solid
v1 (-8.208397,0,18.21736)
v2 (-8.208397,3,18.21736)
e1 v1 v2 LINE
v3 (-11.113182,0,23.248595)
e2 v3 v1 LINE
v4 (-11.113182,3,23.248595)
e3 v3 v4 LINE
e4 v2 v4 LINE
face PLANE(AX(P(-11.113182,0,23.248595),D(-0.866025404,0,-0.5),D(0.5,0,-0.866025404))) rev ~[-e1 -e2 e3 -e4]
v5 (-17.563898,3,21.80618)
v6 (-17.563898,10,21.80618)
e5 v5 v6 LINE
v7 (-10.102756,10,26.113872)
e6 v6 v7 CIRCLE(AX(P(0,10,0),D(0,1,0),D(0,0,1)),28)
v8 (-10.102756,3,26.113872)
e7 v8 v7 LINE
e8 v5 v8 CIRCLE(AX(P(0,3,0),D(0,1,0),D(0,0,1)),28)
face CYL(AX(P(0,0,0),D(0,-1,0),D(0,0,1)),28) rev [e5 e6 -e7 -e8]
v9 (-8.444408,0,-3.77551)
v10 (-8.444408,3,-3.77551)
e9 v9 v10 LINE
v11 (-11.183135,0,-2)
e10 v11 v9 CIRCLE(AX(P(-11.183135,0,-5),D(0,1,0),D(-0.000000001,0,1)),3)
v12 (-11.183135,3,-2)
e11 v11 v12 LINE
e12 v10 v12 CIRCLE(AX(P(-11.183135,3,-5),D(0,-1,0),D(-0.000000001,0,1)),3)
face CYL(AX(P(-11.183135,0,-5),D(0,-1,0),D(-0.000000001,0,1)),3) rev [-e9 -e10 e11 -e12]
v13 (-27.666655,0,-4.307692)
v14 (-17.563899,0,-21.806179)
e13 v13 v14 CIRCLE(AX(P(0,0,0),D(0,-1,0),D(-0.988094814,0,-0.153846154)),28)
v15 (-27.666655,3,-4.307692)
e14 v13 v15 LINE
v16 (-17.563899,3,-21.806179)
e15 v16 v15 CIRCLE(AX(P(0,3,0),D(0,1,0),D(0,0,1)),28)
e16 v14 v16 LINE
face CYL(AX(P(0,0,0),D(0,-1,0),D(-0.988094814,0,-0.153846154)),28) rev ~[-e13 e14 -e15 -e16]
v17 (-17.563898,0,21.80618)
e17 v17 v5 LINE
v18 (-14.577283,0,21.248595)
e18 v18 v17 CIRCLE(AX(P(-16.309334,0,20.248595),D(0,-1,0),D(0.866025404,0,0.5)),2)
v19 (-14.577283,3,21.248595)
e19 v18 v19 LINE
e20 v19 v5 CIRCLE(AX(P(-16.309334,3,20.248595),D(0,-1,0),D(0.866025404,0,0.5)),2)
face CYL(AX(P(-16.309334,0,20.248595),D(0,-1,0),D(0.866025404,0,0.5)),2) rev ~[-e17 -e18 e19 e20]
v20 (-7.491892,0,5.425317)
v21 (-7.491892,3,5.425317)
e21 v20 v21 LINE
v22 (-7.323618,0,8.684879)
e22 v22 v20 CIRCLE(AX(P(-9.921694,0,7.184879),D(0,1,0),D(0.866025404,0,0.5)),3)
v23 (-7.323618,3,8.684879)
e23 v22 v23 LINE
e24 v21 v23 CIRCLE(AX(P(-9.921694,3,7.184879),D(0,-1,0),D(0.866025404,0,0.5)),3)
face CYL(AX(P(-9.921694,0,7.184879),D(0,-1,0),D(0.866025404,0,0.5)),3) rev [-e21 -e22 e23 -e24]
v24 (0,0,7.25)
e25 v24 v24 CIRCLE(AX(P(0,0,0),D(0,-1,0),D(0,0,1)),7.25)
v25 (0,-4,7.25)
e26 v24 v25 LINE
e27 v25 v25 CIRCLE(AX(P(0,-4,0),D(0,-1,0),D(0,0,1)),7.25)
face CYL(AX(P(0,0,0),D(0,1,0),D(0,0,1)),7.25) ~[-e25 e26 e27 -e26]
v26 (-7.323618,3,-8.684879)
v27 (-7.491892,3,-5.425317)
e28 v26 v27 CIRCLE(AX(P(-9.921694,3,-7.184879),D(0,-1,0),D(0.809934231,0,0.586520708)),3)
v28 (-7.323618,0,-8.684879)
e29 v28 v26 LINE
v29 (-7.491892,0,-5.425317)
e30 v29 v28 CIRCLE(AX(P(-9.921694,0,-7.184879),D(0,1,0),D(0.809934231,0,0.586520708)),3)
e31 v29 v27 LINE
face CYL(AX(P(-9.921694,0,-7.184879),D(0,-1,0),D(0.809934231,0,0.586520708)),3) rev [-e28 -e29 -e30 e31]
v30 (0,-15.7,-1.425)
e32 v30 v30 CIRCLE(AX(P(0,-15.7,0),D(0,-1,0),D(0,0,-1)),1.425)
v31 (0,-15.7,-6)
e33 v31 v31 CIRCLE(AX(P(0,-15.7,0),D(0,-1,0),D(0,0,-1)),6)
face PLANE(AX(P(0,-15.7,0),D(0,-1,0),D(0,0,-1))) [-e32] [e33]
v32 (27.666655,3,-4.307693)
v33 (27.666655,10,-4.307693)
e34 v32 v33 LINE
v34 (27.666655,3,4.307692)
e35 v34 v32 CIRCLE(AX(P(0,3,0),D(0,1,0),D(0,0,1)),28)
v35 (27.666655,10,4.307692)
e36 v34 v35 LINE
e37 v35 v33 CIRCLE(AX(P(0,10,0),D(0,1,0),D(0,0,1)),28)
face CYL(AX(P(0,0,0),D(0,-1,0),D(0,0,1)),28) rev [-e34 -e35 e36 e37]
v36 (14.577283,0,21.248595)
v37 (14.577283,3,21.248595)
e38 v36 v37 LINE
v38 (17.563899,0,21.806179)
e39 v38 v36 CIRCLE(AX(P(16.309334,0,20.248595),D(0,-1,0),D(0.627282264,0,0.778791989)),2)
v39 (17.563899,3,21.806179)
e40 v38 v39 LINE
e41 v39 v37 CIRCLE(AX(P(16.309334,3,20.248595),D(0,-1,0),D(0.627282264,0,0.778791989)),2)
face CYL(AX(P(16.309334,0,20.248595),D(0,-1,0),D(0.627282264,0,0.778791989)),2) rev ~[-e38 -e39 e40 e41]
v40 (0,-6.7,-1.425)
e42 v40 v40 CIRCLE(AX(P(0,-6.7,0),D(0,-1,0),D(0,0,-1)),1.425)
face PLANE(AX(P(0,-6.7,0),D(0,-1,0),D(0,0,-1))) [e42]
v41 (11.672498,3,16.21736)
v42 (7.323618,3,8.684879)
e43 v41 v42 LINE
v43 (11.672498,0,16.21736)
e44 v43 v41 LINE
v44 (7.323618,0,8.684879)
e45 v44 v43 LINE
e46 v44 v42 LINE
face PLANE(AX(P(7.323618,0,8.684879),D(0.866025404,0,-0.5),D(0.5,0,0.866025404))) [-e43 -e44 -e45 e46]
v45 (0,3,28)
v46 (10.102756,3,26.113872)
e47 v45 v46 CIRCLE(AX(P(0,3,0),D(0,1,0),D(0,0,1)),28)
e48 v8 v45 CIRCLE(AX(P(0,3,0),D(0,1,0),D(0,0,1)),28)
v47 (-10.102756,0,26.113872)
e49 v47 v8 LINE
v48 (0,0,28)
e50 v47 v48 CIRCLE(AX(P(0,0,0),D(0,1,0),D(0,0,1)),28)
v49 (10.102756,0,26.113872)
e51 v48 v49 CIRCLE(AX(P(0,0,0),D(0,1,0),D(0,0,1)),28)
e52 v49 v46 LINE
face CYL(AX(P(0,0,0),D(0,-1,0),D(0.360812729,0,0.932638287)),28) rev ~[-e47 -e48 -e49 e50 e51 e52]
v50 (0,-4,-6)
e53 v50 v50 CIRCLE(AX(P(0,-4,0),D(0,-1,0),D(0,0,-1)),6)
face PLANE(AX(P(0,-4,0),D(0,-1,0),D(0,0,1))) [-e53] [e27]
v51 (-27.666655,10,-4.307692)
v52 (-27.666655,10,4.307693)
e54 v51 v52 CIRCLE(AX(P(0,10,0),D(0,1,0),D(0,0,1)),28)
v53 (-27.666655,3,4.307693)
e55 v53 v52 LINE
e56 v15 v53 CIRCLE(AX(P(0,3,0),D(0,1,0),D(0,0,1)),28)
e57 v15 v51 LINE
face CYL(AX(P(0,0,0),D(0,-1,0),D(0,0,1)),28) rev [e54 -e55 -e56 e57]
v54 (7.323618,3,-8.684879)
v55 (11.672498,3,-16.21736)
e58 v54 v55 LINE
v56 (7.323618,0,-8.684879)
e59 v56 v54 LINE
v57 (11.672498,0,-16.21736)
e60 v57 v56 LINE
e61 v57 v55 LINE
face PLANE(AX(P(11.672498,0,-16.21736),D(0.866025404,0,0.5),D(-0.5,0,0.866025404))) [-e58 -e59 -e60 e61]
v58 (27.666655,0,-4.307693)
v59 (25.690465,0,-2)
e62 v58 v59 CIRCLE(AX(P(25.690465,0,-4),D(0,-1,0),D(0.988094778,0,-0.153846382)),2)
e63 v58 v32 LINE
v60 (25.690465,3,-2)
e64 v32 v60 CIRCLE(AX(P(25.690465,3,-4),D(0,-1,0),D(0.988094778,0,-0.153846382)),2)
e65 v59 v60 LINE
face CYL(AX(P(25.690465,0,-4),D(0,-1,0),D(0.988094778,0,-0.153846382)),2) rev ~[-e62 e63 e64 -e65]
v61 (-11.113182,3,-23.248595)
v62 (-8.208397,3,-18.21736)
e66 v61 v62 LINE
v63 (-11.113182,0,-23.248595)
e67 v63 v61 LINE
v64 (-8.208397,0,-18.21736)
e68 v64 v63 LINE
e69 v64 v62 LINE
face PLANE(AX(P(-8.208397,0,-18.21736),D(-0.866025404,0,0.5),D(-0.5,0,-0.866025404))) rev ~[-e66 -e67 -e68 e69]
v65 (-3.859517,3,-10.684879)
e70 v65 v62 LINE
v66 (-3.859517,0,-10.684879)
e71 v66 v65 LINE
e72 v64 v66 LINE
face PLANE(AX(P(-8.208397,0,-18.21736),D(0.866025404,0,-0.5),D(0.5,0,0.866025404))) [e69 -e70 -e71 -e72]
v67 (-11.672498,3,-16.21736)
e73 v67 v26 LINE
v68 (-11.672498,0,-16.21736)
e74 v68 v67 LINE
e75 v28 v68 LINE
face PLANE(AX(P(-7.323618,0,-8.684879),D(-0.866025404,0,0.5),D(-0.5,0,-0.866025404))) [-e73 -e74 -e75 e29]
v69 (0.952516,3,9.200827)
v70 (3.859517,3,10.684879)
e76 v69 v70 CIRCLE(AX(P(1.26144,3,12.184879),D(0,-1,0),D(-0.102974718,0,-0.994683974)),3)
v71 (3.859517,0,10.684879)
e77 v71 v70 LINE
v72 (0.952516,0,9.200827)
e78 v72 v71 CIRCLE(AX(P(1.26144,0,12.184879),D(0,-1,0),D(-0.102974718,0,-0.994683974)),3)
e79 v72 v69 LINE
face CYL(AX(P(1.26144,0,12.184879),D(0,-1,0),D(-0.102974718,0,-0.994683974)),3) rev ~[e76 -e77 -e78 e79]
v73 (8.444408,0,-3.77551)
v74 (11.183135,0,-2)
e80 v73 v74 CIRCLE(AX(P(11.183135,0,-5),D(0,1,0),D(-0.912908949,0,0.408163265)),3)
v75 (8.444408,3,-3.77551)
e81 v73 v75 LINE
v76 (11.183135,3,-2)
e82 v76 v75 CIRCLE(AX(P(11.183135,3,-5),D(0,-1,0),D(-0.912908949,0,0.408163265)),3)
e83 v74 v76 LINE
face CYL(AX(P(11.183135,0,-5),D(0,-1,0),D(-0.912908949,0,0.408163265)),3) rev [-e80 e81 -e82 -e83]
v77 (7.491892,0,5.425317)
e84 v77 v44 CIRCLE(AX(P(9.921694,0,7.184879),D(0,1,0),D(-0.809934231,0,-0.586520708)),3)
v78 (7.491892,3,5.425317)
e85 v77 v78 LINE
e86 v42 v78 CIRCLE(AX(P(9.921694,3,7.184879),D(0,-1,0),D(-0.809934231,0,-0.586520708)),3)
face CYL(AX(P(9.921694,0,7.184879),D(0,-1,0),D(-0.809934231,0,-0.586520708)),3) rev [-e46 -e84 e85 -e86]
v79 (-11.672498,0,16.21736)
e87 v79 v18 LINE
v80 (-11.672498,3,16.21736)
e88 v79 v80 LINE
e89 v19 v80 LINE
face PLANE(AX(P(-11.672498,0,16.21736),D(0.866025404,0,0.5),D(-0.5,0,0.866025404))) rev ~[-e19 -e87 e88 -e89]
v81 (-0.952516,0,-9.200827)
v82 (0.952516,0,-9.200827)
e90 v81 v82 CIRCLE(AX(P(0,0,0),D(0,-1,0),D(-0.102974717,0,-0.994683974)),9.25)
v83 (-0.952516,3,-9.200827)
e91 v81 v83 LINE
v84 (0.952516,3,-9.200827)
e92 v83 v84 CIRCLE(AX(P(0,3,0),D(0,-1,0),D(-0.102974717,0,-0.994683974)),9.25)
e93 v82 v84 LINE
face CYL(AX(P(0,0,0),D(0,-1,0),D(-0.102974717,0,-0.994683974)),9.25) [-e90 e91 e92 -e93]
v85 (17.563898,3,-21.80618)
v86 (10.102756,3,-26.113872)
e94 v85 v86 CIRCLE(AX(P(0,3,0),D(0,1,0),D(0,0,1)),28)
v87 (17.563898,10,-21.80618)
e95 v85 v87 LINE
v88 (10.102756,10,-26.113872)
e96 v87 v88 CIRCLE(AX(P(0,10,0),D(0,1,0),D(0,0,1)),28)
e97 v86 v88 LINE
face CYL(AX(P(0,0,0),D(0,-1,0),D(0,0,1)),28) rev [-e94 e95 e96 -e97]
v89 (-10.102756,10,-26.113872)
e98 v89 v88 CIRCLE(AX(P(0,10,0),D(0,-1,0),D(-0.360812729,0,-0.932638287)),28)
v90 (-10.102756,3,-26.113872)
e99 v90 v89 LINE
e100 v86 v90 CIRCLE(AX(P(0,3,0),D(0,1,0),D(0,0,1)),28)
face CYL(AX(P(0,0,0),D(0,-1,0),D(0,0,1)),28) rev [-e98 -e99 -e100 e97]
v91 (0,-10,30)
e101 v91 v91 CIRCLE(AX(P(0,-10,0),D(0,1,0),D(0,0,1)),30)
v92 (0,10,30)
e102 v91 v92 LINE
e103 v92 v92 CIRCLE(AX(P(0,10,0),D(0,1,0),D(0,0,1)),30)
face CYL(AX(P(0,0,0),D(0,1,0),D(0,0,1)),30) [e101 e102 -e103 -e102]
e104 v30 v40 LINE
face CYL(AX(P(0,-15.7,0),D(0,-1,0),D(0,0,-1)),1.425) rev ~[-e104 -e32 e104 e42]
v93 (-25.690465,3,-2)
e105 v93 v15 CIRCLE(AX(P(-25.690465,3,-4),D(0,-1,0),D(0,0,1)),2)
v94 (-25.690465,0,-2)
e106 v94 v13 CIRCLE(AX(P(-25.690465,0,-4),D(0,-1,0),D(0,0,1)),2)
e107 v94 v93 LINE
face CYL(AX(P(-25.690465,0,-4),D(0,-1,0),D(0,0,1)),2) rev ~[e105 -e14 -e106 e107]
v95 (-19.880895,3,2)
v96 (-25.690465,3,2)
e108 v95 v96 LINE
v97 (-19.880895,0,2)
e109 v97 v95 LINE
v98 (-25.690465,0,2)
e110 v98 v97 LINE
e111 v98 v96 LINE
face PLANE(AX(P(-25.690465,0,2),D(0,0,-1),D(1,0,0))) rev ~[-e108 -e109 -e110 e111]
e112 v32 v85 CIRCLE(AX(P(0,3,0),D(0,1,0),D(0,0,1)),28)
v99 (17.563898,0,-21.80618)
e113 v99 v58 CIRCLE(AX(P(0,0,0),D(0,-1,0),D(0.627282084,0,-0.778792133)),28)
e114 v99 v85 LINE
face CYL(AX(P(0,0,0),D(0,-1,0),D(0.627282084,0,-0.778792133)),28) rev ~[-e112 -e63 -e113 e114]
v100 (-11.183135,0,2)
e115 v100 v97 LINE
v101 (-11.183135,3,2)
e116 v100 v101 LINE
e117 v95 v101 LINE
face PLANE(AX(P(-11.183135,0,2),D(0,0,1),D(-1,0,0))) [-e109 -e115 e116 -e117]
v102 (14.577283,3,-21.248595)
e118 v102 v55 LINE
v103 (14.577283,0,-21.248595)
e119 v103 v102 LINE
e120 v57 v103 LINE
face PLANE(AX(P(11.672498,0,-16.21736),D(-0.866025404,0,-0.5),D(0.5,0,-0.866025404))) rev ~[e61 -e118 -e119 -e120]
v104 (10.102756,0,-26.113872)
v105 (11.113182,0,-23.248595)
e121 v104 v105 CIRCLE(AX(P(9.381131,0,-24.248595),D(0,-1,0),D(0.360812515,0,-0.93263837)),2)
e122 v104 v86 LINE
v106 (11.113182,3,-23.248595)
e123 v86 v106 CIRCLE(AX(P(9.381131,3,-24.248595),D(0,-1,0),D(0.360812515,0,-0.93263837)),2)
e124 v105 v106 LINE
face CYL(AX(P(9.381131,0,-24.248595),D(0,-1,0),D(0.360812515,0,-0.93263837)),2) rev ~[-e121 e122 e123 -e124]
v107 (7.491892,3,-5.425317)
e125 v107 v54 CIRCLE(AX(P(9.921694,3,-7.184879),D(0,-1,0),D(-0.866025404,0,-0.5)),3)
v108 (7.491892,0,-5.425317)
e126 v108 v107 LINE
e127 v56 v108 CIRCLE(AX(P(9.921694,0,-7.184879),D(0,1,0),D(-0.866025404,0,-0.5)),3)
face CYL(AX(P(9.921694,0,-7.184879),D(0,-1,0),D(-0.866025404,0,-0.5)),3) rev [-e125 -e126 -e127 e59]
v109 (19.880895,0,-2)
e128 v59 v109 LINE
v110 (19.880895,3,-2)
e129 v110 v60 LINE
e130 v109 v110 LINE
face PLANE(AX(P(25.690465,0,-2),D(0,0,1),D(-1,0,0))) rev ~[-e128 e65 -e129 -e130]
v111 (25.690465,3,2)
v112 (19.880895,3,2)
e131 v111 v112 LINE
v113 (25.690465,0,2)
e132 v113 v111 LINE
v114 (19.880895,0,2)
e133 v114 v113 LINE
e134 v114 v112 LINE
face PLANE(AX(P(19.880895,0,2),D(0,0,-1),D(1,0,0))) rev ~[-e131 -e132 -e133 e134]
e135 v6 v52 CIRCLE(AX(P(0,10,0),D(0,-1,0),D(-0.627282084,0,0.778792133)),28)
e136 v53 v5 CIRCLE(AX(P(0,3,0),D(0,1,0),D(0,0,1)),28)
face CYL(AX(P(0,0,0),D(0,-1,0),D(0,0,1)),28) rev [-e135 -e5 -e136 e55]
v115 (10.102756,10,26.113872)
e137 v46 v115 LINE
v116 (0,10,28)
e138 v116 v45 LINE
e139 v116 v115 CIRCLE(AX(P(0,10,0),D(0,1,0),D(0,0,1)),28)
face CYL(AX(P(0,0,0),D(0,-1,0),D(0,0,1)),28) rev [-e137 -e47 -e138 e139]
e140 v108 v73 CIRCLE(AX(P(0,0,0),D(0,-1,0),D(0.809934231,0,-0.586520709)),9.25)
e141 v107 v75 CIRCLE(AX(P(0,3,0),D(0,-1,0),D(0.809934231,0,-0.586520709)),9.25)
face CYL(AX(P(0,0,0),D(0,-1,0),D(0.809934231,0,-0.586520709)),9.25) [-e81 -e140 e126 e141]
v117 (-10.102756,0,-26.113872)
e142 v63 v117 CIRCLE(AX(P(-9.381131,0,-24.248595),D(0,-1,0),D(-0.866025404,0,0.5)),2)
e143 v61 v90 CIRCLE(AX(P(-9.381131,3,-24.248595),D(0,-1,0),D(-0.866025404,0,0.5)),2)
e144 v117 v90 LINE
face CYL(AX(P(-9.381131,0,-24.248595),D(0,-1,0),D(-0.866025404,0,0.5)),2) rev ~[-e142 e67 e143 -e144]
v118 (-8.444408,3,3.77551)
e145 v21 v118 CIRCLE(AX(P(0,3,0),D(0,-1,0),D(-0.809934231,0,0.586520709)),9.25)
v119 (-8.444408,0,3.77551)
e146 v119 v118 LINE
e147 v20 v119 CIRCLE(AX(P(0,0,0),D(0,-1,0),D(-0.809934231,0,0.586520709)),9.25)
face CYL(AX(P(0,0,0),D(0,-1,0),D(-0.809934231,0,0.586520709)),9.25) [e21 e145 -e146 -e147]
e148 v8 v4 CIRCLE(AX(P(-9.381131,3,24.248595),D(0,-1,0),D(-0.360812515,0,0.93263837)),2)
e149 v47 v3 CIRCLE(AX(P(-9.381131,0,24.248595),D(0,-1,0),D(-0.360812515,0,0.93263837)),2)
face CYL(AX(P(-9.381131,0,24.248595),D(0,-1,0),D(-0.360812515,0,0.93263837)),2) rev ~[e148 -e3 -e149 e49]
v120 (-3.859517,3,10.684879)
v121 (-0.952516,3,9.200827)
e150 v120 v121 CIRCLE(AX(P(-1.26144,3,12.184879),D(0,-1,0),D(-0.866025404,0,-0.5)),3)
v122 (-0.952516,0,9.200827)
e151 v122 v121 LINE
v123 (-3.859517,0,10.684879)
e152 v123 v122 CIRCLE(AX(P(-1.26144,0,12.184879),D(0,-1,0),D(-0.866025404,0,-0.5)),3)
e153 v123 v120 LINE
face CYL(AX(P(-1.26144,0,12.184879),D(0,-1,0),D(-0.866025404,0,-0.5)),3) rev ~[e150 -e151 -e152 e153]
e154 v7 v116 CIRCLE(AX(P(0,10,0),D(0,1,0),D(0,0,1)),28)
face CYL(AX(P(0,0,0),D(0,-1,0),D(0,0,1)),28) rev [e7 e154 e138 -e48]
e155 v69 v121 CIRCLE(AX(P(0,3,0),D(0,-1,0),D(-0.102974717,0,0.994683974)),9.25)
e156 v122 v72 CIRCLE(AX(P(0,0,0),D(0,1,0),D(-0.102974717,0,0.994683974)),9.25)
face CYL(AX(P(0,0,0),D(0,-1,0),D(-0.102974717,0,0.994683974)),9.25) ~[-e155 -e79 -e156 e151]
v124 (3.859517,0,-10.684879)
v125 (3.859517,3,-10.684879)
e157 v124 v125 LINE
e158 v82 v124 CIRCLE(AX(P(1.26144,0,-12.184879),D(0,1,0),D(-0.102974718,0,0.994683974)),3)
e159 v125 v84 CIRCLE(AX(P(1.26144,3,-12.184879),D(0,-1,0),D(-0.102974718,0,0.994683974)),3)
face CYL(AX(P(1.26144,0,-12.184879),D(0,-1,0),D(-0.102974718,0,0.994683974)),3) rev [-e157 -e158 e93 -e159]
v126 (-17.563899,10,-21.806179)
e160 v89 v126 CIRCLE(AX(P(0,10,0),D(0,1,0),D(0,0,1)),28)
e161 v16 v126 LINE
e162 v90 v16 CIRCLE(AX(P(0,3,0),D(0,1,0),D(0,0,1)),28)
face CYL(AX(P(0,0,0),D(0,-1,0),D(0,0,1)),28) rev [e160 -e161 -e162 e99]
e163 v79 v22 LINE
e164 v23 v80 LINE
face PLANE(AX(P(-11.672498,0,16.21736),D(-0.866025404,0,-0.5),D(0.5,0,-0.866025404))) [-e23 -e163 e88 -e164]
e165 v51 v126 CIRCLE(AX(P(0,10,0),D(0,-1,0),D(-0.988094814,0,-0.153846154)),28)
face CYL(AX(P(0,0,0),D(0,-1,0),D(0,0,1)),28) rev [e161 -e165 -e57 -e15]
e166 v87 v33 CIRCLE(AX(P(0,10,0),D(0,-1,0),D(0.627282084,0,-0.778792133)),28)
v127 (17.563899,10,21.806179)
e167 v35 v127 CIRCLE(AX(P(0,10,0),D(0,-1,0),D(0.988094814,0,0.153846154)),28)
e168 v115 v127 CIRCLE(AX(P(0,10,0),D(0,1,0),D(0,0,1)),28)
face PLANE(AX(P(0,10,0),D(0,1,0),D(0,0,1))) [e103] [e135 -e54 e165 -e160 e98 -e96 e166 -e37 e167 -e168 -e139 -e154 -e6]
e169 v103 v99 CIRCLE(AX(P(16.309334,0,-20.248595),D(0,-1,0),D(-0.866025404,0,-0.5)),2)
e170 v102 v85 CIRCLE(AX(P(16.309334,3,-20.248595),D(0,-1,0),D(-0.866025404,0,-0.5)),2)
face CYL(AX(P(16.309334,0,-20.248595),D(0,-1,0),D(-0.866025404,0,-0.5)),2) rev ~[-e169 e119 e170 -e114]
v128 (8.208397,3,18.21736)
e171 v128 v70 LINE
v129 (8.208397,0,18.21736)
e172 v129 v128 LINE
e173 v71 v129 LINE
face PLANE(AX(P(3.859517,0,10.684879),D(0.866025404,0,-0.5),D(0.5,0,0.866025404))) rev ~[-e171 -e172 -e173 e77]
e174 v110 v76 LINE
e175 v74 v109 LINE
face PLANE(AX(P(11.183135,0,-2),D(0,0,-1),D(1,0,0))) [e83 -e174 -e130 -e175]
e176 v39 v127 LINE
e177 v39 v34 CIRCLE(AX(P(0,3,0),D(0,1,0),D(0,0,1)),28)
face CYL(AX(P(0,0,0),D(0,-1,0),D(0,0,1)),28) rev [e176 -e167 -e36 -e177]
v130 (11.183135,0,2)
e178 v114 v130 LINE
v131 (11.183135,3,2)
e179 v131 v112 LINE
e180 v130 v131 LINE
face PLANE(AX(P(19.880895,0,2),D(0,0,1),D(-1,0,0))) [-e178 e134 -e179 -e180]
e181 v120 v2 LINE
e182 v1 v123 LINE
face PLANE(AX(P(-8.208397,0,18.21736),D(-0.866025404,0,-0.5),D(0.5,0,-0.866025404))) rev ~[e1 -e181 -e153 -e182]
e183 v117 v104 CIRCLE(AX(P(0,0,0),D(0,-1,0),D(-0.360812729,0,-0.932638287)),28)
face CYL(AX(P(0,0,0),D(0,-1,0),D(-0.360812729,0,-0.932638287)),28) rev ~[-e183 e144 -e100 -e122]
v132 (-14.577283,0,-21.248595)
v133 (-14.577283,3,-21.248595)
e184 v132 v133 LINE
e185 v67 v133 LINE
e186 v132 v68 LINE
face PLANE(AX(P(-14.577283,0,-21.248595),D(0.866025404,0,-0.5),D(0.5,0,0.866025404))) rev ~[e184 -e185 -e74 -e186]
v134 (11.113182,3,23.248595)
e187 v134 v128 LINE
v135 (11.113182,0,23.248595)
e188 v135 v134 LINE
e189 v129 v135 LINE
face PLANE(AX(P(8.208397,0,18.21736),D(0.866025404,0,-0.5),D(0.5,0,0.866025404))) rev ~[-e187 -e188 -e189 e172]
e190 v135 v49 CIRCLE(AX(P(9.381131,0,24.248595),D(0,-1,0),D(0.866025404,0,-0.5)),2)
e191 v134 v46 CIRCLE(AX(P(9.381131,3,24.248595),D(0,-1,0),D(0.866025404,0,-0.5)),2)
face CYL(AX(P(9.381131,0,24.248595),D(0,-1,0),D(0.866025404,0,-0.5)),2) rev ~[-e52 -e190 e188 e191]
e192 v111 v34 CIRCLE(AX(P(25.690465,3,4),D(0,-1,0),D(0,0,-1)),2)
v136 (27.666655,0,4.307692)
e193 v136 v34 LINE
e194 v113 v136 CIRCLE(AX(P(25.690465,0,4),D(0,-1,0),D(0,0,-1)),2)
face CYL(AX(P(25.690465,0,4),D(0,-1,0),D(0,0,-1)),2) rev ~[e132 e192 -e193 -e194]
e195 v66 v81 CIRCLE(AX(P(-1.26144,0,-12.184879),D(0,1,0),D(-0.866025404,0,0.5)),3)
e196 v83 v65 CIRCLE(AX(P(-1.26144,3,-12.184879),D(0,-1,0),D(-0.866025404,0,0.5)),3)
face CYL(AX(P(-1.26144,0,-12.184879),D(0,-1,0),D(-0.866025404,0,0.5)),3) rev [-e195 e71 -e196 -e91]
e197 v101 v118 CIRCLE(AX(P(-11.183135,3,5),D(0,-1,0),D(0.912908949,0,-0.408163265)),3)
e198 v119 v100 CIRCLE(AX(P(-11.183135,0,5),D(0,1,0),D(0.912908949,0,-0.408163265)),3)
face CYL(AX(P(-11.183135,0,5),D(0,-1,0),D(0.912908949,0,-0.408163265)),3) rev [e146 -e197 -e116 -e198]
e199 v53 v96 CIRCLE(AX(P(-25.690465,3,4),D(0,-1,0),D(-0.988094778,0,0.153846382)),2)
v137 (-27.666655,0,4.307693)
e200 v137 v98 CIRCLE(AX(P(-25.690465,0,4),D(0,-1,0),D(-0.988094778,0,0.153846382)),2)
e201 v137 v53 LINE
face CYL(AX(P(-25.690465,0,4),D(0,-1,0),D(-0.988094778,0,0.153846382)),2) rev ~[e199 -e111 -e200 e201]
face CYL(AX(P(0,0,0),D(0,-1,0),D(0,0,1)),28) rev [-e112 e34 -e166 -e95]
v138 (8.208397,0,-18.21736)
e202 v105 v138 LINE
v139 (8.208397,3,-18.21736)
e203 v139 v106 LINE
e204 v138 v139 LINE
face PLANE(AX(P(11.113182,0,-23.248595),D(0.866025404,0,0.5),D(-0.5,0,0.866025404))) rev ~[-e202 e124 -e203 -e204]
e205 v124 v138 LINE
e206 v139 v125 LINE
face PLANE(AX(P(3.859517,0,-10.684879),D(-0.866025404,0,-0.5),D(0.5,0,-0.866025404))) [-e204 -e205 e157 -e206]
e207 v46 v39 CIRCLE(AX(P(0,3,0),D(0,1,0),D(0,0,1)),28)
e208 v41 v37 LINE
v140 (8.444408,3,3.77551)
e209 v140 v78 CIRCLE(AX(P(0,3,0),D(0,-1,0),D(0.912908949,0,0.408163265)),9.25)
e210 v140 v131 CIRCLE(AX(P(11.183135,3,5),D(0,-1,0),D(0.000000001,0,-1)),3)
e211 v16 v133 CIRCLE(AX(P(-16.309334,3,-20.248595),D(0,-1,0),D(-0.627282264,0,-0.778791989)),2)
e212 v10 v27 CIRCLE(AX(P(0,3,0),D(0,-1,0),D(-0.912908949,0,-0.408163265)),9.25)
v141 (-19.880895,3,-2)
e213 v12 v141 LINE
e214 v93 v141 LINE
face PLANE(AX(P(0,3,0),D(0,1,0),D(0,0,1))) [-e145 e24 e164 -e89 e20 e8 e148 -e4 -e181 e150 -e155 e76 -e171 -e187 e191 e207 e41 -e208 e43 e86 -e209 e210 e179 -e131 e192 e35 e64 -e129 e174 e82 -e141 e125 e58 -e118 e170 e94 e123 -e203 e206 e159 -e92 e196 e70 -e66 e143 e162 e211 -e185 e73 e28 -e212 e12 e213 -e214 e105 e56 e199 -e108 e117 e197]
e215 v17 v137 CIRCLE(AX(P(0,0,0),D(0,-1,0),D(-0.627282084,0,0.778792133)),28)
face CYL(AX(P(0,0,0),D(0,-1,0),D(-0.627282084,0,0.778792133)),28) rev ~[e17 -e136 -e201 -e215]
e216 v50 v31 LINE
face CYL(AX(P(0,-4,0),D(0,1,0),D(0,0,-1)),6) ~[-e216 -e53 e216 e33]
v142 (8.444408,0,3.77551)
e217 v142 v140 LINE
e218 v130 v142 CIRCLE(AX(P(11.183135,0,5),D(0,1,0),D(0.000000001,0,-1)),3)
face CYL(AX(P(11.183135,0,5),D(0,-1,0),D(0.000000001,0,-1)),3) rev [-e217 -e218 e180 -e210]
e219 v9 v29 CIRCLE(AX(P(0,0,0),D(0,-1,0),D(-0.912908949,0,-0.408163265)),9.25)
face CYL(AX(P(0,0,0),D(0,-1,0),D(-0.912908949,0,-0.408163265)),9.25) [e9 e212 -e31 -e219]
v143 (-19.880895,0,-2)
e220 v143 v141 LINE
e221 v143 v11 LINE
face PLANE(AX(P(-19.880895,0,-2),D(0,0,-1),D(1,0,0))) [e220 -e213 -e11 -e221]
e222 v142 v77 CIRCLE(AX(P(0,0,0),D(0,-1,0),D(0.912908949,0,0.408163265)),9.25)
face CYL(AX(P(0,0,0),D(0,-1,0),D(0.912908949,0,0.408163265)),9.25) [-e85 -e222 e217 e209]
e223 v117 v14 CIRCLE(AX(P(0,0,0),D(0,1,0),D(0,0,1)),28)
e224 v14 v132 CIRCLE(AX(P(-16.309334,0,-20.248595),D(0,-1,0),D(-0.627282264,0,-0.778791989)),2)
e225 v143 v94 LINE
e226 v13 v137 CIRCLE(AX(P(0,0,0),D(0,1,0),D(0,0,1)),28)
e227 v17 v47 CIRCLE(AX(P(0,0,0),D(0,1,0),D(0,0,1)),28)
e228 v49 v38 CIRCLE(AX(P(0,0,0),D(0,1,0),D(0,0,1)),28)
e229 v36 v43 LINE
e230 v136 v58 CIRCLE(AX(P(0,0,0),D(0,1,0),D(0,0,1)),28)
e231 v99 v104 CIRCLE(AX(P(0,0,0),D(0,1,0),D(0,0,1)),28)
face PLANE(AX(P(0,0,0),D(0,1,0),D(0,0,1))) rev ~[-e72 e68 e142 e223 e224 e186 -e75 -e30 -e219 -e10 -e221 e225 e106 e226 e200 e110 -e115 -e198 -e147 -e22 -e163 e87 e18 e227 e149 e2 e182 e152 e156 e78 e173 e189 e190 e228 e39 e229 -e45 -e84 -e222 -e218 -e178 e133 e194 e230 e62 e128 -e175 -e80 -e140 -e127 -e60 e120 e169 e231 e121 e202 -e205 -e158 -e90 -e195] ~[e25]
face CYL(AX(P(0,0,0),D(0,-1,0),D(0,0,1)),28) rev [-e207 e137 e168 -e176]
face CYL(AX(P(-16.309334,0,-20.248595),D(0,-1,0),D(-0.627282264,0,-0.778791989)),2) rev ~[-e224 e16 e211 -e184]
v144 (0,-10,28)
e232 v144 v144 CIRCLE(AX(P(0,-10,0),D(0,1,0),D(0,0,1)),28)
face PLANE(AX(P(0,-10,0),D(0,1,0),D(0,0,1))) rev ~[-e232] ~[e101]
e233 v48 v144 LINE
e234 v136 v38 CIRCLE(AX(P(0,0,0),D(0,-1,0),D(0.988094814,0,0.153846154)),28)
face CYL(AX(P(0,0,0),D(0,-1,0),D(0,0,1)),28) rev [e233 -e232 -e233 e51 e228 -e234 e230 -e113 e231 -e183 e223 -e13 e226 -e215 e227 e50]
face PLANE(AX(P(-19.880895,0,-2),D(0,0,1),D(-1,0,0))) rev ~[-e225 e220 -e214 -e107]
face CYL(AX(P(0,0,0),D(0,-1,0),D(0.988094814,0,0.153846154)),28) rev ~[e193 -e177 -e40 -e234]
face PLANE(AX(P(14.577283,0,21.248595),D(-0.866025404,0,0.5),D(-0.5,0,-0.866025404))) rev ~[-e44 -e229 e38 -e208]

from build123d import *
from build123d.topology import SkipClean

# Parameters (mm, degrees)
SKETCH1_R           = 30
SKETCH1_R_2         = 28
BOSS_EXTRUDE1_DEPTH = 10
SKETCH2_R           = 28
BOSS_EXTRUDE2_DEPTH = 3
SKETCH3_R           = 7.25
BOSS_EXTRUDE3_DEPTH = 4
SKETCH4_R           = 6
BOSS_EXTRUDE4_DEPTH = 11.7
SKETCH5_R           = 1.425
CUT_EXTRUDE1_DEPTH  = 9
CUT_EXTRUDE2_DEPTH  = 9
CUT_EXTRUDE3_DEPTH  = 10


with BuildPart() as part:
    # Sketch1 → Boss-Extrude1 (new, symmetric)
    with BuildSketch(Plane(origin=(0, 0, 0), x_dir=(1, 0, 0), z_dir=(0, 1, 0))):
        with Locations(Location((0, 0, 0), (0, 0, 270))):
            Circle(SKETCH1_R)
        with Locations(Location((0, 0, 0), (0, 0, 270))):
            Circle(SKETCH1_R_2, mode=Mode.SUBTRACT)
    extrude(amount=BOSS_EXTRUDE1_DEPTH, both=True)

    # Sketch2 → Boss-Extrude2 (add)
    with BuildSketch(Plane(origin=(0, 0, 0), x_dir=(1, 0, 0), z_dir=(0, 1, 0))):
        with Locations(Location((0, 0, 0), (0, 0, 270))):
            Circle(SKETCH2_R)
    extrude(amount=BOSS_EXTRUDE2_DEPTH)

    # Sketch3 → Boss-Extrude3 (add)
    with BuildSketch(Plane.XZ):
        with Locations(Location((0, 0, 0), (0, 0, 90))):
            Circle(SKETCH3_R)
    extrude(amount=BOSS_EXTRUDE3_DEPTH)

    # Sketch4 → Boss-Extrude4 (add)
    with BuildSketch(Plane.XZ.offset(4)):
        with Locations(Location((0, 0, 0), (0, 0, 270))):
            Circle(SKETCH4_R)
    extrude(amount=BOSS_EXTRUDE4_DEPTH)

    # Sketch5 → Cut-Extrude1 (cut)
    with BuildSketch(Plane.XZ.offset(15.7)):
        with Locations(Location((0, 0, 0), (0, 0, 270))):
            Circle(SKETCH5_R)
    extrude(amount=-CUT_EXTRUDE1_DEPTH, mode=Mode.SUBTRACT)

    # Sketch6 → Cut-Extrude2 (cut)
    with BuildSketch(Plane.XZ):
        with BuildLine():
            ThreePointArc((6.431343192, 22.602827804), (0, 23.5), (-6.431343192, 22.602827804))
            ThreePointArc((-6.431343192, 22.602827804), (-8.390723522, 20.844019161), (-8.208396868, 18.217360425))
            Line((-8.208396868, 18.217360425), (-3.859516504, 10.684878678))
            ThreePointArc((-3.859516504, 10.684878678), (-2.62549924, 9.51292374), (-0.952516139, 9.200826757))
            ThreePointArc((-0.952516139, 9.200826757), (0, 9.25), (0.952516139, 9.200826757))
            ThreePointArc((0.952516139, 9.200826757), (2.62549924, 9.51292374), (3.859516504, 10.684878678))
            Line((3.859516504, 10.684878678), (8.208396868, 18.217360425))
            ThreePointArc((8.208396868, 18.217360425), (8.390723522, 20.844019161), (6.431343192, 22.602827804))
        make_face()
        with BuildLine():
            ThreePointArc((8.444407777, 3.775510204), (8.010734985, 4.625), (7.491891637, 5.425316552))
            ThreePointArc((7.491891637, 5.425316552), (6.925684003, 7.03021091), (7.323618119, 8.684878678))
            Line((7.323618119, 8.684878678), (11.672498484, 16.217360425))
            ThreePointArc((11.672498484, 16.217360425), (13.856088349, 17.688589307), (16.35895148, 16.871120487))
            ThreePointArc((16.35895148, 16.871120487), (20.351596989, 11.75), (22.790294672, 5.731707317))
            ThreePointArc((22.790294672, 5.731707317), (22.246811871, 3.155429854), (19.880895352, 2))
            Line((19.880895352, 2), (11.183134623, 2))
            ThreePointArc((11.183134623, 2), (9.551183243, 2.48271283), (8.444407777, 3.775510204))
        make_face()
        with BuildLine():
            ThreePointArc((7.491891637, -5.425316552), (8.010734985, -4.625), (8.444407777, -3.775510204))
            ThreePointArc((8.444407777, -3.775510204), (9.551183243, -2.48271283), (11.183134623, -2))
            Line((11.183134623, -2), (19.880895352, -2))
            ThreePointArc((19.880895352, -2), (22.246811871, -3.155429854), (22.790294672, -5.731707317))
            ThreePointArc((22.790294672, -5.731707317), (20.351596989, -11.75), (16.35895148, -16.871120487))
            ThreePointArc((16.35895148, -16.871120487), (13.856088349, -17.688589307), (11.672498484, -16.217360425))
            Line((11.672498484, -16.217360425), (7.323618119, -8.684878678))
            ThreePointArc((7.323618119, -8.684878678), (6.925684003, -7.03021091), (7.491891637, -5.425316552))
        make_face()
        with BuildLine():
            ThreePointArc((-0.952516139, -9.200826757), (0, -9.25), (0.952516139, -9.200826757))
            ThreePointArc((0.952516139, -9.200826757), (2.62549924, -9.51292374), (3.859516504, -10.684878678))
            Line((3.859516504, -10.684878678), (8.208396868, -18.217360425))
            ThreePointArc((8.208396868, -18.217360425), (8.390723522, -20.844019161), (6.431343192, -22.602827804))
            ThreePointArc((6.431343192, -22.602827804), (0, -23.5), (-6.431343192, -22.602827804))
            ThreePointArc((-6.431343192, -22.602827804), (-8.390723522, -20.844019161), (-8.208396868, -18.217360425))
            Line((-8.208396868, -18.217360425), (-3.859516504, -10.684878678))
            ThreePointArc((-3.859516504, -10.684878678), (-2.62549924, -9.51292374), (-0.952516139, -9.200826757))
        make_face()
        with BuildLine():
            ThreePointArc((-8.444407777, -3.775510204), (-8.010734985, -4.625), (-7.491891637, -5.425316552))
            ThreePointArc((-7.491891637, -5.425316552), (-6.925684003, -7.03021091), (-7.323618119, -8.684878678))
            Line((-7.323618119, -8.684878678), (-11.672498484, -16.217360425))
            ThreePointArc((-11.672498484, -16.217360425), (-13.856088349, -17.688589307), (-16.35895148, -16.871120487))
            ThreePointArc((-16.35895148, -16.871120487), (-20.351596989, -11.75), (-22.790294672, -5.731707317))
            ThreePointArc((-22.790294672, -5.731707317), (-22.246811871, -3.155429854), (-19.880895352, -2))
            Line((-19.880895352, -2), (-11.183134623, -2))
            ThreePointArc((-11.183134623, -2), (-9.551183243, -2.48271283), (-8.444407777, -3.775510204))
        make_face()
        with BuildLine():
            ThreePointArc((-7.491891637, 5.425316552), (-8.010734985, 4.625), (-8.444407777, 3.775510204))
            ThreePointArc((-8.444407777, 3.775510204), (-9.551183243, 2.48271283), (-11.183134623, 2))
            Line((-11.183134623, 2), (-19.880895352, 2))
            ThreePointArc((-19.880895352, 2), (-22.246811871, 3.155429854), (-22.790294672, 5.731707317))
            ThreePointArc((-22.790294672, 5.731707317), (-20.351596989, 11.75), (-16.35895148, 16.871120487))
            ThreePointArc((-16.35895148, 16.871120487), (-13.856088349, 17.688589307), (-11.672498484, 16.217360425))
            Line((-11.672498484, 16.217360425), (-7.323618119, 8.684878678))
            ThreePointArc((-7.323618119, 8.684878678), (-6.925684003, 7.03021091), (-7.491891637, 5.425316552))
        make_face()
    extrude(amount=-CUT_EXTRUDE2_DEPTH, mode=Mode.SUBTRACT)

    # Sketch7 → Cut-Extrude3 (cut)
    with SkipClean():  # the faces are left unmerged after this step: merging them gives an invalid solid
        with BuildSketch(Plane.XZ):
            with BuildLine():
                ThreePointArc((6.431343192, 22.602827804), (8.390723522, 20.844019161), (8.208396868, 18.217360425))
                Line((8.208396868, 18.217360425), (11.113181771, 23.248595461))
                ThreePointArc((11.113181771, 23.248595461), (11.267286913, 24.913738855), (10.102756422, 26.113872035))
                ThreePointArc((10.102756422, 26.113872035), (2.31e-07, 28), (-10.102755992, 26.113872202))
                ThreePointArc((-10.102755992, 26.113872202), (-11.267286836, 24.913739072), (-11.113181771, 23.248595461))
                Line((-11.113181771, 23.248595461), (-8.208396868, 18.217360425))
                ThreePointArc((-8.208396868, 18.217360425), (-8.390723522, 20.844019161), (-6.431343192, 22.602827804))
                ThreePointArc((-6.431343192, 22.602827804), (0, 23.5), (6.431343192, 22.602827804))
            make_face()
            with BuildLine():
                ThreePointArc((27.666654785, 4.307692308), (24.248711421, 13.9999998), (17.563898722, 21.806179438))
                ThreePointArc((17.563898722, 21.806179438), (15.942287522, 22.214626168), (14.577283386, 21.248595461))
                Line((14.577283386, 21.248595461), (11.672498484, 16.217360425))
                ThreePointArc((11.672498484, 16.217360425), (13.856088349, 17.688589307), (16.35895148, 16.871120487))
                ThreePointArc((16.35895148, 16.871120487), (20.351596989, 11.75), (22.790294672, 5.731707317))
                ThreePointArc((22.790294672, 5.731707317), (22.246811871, 3.155429854), (19.880895352, 2))
                Line((19.880895352, 2), (25.690465157, 2))
                ThreePointArc((25.690465157, 2), (27.209574208, 2.699112729), (27.666654785, 4.307692308))
            make_face()
            with BuildLine():
                ThreePointArc((17.563898363, -21.806179728), (24.248711191, -14.0000002), (27.666654714, -4.307692764))
                ThreePointArc((27.666654714, -4.307692764), (27.209574358, -2.699112904), (25.690465157, -2))
                Line((25.690465157, -2), (19.880895352, -2))
                ThreePointArc((19.880895352, -2), (22.246811871, -3.155429854), (22.790294672, -5.731707317))
                ThreePointArc((22.790294672, -5.731707317), (20.351596989, -11.75), (16.35895148, -16.871120487))
                ThreePointArc((16.35895148, -16.871120487), (13.856088349, -17.688589307), (11.672498484, -16.217360425))
                Line((11.672498484, -16.217360425), (14.577283386, -21.248595461))
                ThreePointArc((14.577283386, -21.248595461), (15.942287295, -22.214626126), (17.563898363, -21.806179728))
            make_face()
            with BuildLine():
                ThreePointArc((-10.102756422, -26.113872035), (-2.31e-07, -28), (10.102755992, -26.113872202))
                ThreePointArc((10.102755992, -26.113872202), (11.267286836, -24.913739072), (11.113181771, -23.248595461))
                Line((11.113181771, -23.248595461), (8.208396868, -18.217360425))
                ThreePointArc((8.208396868, -18.217360425), (8.390723522, -20.844019161), (6.431343192, -22.602827804))
                ThreePointArc((6.431343192, -22.602827804), (0, -23.5), (-6.431343192, -22.602827804))
                ThreePointArc((-6.431343192, -22.602827804), (-8.390723522, -20.844019161), (-8.208396868, -18.217360425))
                Line((-8.208396868, -18.217360425), (-11.113181771, -23.248595461))
                ThreePointArc((-11.113181771, -23.248595461), (-11.267286913, -24.913738855), (-10.102756422, -26.113872035))
            make_face()
            with BuildLine():
                ThreePointArc((-25.690465157, -2), (-27.209574208, -2.699112729), (-27.666654785, -4.307692308))
                ThreePointArc((-27.666654785, -4.307692308), (-24.248711421, -13.9999998), (-17.563898722, -21.806179438))
                ThreePointArc((-17.563898722, -21.806179438), (-15.942287522, -22.214626168), (-14.577283386, -21.248595461))
                Line((-14.577283386, -21.248595461), (-11.672498484, -16.217360425))
                ThreePointArc((-11.672498484, -16.217360425), (-13.856088349, -17.688589307), (-16.35895148, -16.871120487))
                ThreePointArc((-16.35895148, -16.871120487), (-20.351596989, -11.75), (-22.790294672, -5.731707317))
                ThreePointArc((-22.790294672, -5.731707317), (-22.246811871, -3.155429854), (-19.880895352, -2))
                Line((-19.880895352, -2), (-25.690465157, -2))
            make_face()
            with BuildLine():
                ThreePointArc((-14.577283386, 21.248595461), (-15.942287295, 22.214626126), (-17.563898363, 21.806179728))
                ThreePointArc((-17.563898363, 21.806179728), (-24.248711191, 14.0000002), (-27.666654714, 4.307692764))
                ThreePointArc((-27.666654714, 4.307692764), (-27.209574358, 2.699112904), (-25.690465157, 2))
                Line((-25.690465157, 2), (-19.880895352, 2))
                ThreePointArc((-19.880895352, 2), (-22.246811871, 3.155429854), (-22.790294672, 5.731707317))
                ThreePointArc((-22.790294672, 5.731707317), (-20.351596989, 11.75), (-16.35895148, 16.871120487))
                ThreePointArc((-16.35895148, 16.871120487), (-13.856088349, 17.688589307), (-11.672498484, 16.217360425))
                Line((-11.672498484, 16.217360425), (-14.577283386, 21.248595461))
            make_face()
        extrude(amount=-CUT_EXTRUDE3_DEPTH, mode=Mode.SUBTRACT)


solid = part.part
